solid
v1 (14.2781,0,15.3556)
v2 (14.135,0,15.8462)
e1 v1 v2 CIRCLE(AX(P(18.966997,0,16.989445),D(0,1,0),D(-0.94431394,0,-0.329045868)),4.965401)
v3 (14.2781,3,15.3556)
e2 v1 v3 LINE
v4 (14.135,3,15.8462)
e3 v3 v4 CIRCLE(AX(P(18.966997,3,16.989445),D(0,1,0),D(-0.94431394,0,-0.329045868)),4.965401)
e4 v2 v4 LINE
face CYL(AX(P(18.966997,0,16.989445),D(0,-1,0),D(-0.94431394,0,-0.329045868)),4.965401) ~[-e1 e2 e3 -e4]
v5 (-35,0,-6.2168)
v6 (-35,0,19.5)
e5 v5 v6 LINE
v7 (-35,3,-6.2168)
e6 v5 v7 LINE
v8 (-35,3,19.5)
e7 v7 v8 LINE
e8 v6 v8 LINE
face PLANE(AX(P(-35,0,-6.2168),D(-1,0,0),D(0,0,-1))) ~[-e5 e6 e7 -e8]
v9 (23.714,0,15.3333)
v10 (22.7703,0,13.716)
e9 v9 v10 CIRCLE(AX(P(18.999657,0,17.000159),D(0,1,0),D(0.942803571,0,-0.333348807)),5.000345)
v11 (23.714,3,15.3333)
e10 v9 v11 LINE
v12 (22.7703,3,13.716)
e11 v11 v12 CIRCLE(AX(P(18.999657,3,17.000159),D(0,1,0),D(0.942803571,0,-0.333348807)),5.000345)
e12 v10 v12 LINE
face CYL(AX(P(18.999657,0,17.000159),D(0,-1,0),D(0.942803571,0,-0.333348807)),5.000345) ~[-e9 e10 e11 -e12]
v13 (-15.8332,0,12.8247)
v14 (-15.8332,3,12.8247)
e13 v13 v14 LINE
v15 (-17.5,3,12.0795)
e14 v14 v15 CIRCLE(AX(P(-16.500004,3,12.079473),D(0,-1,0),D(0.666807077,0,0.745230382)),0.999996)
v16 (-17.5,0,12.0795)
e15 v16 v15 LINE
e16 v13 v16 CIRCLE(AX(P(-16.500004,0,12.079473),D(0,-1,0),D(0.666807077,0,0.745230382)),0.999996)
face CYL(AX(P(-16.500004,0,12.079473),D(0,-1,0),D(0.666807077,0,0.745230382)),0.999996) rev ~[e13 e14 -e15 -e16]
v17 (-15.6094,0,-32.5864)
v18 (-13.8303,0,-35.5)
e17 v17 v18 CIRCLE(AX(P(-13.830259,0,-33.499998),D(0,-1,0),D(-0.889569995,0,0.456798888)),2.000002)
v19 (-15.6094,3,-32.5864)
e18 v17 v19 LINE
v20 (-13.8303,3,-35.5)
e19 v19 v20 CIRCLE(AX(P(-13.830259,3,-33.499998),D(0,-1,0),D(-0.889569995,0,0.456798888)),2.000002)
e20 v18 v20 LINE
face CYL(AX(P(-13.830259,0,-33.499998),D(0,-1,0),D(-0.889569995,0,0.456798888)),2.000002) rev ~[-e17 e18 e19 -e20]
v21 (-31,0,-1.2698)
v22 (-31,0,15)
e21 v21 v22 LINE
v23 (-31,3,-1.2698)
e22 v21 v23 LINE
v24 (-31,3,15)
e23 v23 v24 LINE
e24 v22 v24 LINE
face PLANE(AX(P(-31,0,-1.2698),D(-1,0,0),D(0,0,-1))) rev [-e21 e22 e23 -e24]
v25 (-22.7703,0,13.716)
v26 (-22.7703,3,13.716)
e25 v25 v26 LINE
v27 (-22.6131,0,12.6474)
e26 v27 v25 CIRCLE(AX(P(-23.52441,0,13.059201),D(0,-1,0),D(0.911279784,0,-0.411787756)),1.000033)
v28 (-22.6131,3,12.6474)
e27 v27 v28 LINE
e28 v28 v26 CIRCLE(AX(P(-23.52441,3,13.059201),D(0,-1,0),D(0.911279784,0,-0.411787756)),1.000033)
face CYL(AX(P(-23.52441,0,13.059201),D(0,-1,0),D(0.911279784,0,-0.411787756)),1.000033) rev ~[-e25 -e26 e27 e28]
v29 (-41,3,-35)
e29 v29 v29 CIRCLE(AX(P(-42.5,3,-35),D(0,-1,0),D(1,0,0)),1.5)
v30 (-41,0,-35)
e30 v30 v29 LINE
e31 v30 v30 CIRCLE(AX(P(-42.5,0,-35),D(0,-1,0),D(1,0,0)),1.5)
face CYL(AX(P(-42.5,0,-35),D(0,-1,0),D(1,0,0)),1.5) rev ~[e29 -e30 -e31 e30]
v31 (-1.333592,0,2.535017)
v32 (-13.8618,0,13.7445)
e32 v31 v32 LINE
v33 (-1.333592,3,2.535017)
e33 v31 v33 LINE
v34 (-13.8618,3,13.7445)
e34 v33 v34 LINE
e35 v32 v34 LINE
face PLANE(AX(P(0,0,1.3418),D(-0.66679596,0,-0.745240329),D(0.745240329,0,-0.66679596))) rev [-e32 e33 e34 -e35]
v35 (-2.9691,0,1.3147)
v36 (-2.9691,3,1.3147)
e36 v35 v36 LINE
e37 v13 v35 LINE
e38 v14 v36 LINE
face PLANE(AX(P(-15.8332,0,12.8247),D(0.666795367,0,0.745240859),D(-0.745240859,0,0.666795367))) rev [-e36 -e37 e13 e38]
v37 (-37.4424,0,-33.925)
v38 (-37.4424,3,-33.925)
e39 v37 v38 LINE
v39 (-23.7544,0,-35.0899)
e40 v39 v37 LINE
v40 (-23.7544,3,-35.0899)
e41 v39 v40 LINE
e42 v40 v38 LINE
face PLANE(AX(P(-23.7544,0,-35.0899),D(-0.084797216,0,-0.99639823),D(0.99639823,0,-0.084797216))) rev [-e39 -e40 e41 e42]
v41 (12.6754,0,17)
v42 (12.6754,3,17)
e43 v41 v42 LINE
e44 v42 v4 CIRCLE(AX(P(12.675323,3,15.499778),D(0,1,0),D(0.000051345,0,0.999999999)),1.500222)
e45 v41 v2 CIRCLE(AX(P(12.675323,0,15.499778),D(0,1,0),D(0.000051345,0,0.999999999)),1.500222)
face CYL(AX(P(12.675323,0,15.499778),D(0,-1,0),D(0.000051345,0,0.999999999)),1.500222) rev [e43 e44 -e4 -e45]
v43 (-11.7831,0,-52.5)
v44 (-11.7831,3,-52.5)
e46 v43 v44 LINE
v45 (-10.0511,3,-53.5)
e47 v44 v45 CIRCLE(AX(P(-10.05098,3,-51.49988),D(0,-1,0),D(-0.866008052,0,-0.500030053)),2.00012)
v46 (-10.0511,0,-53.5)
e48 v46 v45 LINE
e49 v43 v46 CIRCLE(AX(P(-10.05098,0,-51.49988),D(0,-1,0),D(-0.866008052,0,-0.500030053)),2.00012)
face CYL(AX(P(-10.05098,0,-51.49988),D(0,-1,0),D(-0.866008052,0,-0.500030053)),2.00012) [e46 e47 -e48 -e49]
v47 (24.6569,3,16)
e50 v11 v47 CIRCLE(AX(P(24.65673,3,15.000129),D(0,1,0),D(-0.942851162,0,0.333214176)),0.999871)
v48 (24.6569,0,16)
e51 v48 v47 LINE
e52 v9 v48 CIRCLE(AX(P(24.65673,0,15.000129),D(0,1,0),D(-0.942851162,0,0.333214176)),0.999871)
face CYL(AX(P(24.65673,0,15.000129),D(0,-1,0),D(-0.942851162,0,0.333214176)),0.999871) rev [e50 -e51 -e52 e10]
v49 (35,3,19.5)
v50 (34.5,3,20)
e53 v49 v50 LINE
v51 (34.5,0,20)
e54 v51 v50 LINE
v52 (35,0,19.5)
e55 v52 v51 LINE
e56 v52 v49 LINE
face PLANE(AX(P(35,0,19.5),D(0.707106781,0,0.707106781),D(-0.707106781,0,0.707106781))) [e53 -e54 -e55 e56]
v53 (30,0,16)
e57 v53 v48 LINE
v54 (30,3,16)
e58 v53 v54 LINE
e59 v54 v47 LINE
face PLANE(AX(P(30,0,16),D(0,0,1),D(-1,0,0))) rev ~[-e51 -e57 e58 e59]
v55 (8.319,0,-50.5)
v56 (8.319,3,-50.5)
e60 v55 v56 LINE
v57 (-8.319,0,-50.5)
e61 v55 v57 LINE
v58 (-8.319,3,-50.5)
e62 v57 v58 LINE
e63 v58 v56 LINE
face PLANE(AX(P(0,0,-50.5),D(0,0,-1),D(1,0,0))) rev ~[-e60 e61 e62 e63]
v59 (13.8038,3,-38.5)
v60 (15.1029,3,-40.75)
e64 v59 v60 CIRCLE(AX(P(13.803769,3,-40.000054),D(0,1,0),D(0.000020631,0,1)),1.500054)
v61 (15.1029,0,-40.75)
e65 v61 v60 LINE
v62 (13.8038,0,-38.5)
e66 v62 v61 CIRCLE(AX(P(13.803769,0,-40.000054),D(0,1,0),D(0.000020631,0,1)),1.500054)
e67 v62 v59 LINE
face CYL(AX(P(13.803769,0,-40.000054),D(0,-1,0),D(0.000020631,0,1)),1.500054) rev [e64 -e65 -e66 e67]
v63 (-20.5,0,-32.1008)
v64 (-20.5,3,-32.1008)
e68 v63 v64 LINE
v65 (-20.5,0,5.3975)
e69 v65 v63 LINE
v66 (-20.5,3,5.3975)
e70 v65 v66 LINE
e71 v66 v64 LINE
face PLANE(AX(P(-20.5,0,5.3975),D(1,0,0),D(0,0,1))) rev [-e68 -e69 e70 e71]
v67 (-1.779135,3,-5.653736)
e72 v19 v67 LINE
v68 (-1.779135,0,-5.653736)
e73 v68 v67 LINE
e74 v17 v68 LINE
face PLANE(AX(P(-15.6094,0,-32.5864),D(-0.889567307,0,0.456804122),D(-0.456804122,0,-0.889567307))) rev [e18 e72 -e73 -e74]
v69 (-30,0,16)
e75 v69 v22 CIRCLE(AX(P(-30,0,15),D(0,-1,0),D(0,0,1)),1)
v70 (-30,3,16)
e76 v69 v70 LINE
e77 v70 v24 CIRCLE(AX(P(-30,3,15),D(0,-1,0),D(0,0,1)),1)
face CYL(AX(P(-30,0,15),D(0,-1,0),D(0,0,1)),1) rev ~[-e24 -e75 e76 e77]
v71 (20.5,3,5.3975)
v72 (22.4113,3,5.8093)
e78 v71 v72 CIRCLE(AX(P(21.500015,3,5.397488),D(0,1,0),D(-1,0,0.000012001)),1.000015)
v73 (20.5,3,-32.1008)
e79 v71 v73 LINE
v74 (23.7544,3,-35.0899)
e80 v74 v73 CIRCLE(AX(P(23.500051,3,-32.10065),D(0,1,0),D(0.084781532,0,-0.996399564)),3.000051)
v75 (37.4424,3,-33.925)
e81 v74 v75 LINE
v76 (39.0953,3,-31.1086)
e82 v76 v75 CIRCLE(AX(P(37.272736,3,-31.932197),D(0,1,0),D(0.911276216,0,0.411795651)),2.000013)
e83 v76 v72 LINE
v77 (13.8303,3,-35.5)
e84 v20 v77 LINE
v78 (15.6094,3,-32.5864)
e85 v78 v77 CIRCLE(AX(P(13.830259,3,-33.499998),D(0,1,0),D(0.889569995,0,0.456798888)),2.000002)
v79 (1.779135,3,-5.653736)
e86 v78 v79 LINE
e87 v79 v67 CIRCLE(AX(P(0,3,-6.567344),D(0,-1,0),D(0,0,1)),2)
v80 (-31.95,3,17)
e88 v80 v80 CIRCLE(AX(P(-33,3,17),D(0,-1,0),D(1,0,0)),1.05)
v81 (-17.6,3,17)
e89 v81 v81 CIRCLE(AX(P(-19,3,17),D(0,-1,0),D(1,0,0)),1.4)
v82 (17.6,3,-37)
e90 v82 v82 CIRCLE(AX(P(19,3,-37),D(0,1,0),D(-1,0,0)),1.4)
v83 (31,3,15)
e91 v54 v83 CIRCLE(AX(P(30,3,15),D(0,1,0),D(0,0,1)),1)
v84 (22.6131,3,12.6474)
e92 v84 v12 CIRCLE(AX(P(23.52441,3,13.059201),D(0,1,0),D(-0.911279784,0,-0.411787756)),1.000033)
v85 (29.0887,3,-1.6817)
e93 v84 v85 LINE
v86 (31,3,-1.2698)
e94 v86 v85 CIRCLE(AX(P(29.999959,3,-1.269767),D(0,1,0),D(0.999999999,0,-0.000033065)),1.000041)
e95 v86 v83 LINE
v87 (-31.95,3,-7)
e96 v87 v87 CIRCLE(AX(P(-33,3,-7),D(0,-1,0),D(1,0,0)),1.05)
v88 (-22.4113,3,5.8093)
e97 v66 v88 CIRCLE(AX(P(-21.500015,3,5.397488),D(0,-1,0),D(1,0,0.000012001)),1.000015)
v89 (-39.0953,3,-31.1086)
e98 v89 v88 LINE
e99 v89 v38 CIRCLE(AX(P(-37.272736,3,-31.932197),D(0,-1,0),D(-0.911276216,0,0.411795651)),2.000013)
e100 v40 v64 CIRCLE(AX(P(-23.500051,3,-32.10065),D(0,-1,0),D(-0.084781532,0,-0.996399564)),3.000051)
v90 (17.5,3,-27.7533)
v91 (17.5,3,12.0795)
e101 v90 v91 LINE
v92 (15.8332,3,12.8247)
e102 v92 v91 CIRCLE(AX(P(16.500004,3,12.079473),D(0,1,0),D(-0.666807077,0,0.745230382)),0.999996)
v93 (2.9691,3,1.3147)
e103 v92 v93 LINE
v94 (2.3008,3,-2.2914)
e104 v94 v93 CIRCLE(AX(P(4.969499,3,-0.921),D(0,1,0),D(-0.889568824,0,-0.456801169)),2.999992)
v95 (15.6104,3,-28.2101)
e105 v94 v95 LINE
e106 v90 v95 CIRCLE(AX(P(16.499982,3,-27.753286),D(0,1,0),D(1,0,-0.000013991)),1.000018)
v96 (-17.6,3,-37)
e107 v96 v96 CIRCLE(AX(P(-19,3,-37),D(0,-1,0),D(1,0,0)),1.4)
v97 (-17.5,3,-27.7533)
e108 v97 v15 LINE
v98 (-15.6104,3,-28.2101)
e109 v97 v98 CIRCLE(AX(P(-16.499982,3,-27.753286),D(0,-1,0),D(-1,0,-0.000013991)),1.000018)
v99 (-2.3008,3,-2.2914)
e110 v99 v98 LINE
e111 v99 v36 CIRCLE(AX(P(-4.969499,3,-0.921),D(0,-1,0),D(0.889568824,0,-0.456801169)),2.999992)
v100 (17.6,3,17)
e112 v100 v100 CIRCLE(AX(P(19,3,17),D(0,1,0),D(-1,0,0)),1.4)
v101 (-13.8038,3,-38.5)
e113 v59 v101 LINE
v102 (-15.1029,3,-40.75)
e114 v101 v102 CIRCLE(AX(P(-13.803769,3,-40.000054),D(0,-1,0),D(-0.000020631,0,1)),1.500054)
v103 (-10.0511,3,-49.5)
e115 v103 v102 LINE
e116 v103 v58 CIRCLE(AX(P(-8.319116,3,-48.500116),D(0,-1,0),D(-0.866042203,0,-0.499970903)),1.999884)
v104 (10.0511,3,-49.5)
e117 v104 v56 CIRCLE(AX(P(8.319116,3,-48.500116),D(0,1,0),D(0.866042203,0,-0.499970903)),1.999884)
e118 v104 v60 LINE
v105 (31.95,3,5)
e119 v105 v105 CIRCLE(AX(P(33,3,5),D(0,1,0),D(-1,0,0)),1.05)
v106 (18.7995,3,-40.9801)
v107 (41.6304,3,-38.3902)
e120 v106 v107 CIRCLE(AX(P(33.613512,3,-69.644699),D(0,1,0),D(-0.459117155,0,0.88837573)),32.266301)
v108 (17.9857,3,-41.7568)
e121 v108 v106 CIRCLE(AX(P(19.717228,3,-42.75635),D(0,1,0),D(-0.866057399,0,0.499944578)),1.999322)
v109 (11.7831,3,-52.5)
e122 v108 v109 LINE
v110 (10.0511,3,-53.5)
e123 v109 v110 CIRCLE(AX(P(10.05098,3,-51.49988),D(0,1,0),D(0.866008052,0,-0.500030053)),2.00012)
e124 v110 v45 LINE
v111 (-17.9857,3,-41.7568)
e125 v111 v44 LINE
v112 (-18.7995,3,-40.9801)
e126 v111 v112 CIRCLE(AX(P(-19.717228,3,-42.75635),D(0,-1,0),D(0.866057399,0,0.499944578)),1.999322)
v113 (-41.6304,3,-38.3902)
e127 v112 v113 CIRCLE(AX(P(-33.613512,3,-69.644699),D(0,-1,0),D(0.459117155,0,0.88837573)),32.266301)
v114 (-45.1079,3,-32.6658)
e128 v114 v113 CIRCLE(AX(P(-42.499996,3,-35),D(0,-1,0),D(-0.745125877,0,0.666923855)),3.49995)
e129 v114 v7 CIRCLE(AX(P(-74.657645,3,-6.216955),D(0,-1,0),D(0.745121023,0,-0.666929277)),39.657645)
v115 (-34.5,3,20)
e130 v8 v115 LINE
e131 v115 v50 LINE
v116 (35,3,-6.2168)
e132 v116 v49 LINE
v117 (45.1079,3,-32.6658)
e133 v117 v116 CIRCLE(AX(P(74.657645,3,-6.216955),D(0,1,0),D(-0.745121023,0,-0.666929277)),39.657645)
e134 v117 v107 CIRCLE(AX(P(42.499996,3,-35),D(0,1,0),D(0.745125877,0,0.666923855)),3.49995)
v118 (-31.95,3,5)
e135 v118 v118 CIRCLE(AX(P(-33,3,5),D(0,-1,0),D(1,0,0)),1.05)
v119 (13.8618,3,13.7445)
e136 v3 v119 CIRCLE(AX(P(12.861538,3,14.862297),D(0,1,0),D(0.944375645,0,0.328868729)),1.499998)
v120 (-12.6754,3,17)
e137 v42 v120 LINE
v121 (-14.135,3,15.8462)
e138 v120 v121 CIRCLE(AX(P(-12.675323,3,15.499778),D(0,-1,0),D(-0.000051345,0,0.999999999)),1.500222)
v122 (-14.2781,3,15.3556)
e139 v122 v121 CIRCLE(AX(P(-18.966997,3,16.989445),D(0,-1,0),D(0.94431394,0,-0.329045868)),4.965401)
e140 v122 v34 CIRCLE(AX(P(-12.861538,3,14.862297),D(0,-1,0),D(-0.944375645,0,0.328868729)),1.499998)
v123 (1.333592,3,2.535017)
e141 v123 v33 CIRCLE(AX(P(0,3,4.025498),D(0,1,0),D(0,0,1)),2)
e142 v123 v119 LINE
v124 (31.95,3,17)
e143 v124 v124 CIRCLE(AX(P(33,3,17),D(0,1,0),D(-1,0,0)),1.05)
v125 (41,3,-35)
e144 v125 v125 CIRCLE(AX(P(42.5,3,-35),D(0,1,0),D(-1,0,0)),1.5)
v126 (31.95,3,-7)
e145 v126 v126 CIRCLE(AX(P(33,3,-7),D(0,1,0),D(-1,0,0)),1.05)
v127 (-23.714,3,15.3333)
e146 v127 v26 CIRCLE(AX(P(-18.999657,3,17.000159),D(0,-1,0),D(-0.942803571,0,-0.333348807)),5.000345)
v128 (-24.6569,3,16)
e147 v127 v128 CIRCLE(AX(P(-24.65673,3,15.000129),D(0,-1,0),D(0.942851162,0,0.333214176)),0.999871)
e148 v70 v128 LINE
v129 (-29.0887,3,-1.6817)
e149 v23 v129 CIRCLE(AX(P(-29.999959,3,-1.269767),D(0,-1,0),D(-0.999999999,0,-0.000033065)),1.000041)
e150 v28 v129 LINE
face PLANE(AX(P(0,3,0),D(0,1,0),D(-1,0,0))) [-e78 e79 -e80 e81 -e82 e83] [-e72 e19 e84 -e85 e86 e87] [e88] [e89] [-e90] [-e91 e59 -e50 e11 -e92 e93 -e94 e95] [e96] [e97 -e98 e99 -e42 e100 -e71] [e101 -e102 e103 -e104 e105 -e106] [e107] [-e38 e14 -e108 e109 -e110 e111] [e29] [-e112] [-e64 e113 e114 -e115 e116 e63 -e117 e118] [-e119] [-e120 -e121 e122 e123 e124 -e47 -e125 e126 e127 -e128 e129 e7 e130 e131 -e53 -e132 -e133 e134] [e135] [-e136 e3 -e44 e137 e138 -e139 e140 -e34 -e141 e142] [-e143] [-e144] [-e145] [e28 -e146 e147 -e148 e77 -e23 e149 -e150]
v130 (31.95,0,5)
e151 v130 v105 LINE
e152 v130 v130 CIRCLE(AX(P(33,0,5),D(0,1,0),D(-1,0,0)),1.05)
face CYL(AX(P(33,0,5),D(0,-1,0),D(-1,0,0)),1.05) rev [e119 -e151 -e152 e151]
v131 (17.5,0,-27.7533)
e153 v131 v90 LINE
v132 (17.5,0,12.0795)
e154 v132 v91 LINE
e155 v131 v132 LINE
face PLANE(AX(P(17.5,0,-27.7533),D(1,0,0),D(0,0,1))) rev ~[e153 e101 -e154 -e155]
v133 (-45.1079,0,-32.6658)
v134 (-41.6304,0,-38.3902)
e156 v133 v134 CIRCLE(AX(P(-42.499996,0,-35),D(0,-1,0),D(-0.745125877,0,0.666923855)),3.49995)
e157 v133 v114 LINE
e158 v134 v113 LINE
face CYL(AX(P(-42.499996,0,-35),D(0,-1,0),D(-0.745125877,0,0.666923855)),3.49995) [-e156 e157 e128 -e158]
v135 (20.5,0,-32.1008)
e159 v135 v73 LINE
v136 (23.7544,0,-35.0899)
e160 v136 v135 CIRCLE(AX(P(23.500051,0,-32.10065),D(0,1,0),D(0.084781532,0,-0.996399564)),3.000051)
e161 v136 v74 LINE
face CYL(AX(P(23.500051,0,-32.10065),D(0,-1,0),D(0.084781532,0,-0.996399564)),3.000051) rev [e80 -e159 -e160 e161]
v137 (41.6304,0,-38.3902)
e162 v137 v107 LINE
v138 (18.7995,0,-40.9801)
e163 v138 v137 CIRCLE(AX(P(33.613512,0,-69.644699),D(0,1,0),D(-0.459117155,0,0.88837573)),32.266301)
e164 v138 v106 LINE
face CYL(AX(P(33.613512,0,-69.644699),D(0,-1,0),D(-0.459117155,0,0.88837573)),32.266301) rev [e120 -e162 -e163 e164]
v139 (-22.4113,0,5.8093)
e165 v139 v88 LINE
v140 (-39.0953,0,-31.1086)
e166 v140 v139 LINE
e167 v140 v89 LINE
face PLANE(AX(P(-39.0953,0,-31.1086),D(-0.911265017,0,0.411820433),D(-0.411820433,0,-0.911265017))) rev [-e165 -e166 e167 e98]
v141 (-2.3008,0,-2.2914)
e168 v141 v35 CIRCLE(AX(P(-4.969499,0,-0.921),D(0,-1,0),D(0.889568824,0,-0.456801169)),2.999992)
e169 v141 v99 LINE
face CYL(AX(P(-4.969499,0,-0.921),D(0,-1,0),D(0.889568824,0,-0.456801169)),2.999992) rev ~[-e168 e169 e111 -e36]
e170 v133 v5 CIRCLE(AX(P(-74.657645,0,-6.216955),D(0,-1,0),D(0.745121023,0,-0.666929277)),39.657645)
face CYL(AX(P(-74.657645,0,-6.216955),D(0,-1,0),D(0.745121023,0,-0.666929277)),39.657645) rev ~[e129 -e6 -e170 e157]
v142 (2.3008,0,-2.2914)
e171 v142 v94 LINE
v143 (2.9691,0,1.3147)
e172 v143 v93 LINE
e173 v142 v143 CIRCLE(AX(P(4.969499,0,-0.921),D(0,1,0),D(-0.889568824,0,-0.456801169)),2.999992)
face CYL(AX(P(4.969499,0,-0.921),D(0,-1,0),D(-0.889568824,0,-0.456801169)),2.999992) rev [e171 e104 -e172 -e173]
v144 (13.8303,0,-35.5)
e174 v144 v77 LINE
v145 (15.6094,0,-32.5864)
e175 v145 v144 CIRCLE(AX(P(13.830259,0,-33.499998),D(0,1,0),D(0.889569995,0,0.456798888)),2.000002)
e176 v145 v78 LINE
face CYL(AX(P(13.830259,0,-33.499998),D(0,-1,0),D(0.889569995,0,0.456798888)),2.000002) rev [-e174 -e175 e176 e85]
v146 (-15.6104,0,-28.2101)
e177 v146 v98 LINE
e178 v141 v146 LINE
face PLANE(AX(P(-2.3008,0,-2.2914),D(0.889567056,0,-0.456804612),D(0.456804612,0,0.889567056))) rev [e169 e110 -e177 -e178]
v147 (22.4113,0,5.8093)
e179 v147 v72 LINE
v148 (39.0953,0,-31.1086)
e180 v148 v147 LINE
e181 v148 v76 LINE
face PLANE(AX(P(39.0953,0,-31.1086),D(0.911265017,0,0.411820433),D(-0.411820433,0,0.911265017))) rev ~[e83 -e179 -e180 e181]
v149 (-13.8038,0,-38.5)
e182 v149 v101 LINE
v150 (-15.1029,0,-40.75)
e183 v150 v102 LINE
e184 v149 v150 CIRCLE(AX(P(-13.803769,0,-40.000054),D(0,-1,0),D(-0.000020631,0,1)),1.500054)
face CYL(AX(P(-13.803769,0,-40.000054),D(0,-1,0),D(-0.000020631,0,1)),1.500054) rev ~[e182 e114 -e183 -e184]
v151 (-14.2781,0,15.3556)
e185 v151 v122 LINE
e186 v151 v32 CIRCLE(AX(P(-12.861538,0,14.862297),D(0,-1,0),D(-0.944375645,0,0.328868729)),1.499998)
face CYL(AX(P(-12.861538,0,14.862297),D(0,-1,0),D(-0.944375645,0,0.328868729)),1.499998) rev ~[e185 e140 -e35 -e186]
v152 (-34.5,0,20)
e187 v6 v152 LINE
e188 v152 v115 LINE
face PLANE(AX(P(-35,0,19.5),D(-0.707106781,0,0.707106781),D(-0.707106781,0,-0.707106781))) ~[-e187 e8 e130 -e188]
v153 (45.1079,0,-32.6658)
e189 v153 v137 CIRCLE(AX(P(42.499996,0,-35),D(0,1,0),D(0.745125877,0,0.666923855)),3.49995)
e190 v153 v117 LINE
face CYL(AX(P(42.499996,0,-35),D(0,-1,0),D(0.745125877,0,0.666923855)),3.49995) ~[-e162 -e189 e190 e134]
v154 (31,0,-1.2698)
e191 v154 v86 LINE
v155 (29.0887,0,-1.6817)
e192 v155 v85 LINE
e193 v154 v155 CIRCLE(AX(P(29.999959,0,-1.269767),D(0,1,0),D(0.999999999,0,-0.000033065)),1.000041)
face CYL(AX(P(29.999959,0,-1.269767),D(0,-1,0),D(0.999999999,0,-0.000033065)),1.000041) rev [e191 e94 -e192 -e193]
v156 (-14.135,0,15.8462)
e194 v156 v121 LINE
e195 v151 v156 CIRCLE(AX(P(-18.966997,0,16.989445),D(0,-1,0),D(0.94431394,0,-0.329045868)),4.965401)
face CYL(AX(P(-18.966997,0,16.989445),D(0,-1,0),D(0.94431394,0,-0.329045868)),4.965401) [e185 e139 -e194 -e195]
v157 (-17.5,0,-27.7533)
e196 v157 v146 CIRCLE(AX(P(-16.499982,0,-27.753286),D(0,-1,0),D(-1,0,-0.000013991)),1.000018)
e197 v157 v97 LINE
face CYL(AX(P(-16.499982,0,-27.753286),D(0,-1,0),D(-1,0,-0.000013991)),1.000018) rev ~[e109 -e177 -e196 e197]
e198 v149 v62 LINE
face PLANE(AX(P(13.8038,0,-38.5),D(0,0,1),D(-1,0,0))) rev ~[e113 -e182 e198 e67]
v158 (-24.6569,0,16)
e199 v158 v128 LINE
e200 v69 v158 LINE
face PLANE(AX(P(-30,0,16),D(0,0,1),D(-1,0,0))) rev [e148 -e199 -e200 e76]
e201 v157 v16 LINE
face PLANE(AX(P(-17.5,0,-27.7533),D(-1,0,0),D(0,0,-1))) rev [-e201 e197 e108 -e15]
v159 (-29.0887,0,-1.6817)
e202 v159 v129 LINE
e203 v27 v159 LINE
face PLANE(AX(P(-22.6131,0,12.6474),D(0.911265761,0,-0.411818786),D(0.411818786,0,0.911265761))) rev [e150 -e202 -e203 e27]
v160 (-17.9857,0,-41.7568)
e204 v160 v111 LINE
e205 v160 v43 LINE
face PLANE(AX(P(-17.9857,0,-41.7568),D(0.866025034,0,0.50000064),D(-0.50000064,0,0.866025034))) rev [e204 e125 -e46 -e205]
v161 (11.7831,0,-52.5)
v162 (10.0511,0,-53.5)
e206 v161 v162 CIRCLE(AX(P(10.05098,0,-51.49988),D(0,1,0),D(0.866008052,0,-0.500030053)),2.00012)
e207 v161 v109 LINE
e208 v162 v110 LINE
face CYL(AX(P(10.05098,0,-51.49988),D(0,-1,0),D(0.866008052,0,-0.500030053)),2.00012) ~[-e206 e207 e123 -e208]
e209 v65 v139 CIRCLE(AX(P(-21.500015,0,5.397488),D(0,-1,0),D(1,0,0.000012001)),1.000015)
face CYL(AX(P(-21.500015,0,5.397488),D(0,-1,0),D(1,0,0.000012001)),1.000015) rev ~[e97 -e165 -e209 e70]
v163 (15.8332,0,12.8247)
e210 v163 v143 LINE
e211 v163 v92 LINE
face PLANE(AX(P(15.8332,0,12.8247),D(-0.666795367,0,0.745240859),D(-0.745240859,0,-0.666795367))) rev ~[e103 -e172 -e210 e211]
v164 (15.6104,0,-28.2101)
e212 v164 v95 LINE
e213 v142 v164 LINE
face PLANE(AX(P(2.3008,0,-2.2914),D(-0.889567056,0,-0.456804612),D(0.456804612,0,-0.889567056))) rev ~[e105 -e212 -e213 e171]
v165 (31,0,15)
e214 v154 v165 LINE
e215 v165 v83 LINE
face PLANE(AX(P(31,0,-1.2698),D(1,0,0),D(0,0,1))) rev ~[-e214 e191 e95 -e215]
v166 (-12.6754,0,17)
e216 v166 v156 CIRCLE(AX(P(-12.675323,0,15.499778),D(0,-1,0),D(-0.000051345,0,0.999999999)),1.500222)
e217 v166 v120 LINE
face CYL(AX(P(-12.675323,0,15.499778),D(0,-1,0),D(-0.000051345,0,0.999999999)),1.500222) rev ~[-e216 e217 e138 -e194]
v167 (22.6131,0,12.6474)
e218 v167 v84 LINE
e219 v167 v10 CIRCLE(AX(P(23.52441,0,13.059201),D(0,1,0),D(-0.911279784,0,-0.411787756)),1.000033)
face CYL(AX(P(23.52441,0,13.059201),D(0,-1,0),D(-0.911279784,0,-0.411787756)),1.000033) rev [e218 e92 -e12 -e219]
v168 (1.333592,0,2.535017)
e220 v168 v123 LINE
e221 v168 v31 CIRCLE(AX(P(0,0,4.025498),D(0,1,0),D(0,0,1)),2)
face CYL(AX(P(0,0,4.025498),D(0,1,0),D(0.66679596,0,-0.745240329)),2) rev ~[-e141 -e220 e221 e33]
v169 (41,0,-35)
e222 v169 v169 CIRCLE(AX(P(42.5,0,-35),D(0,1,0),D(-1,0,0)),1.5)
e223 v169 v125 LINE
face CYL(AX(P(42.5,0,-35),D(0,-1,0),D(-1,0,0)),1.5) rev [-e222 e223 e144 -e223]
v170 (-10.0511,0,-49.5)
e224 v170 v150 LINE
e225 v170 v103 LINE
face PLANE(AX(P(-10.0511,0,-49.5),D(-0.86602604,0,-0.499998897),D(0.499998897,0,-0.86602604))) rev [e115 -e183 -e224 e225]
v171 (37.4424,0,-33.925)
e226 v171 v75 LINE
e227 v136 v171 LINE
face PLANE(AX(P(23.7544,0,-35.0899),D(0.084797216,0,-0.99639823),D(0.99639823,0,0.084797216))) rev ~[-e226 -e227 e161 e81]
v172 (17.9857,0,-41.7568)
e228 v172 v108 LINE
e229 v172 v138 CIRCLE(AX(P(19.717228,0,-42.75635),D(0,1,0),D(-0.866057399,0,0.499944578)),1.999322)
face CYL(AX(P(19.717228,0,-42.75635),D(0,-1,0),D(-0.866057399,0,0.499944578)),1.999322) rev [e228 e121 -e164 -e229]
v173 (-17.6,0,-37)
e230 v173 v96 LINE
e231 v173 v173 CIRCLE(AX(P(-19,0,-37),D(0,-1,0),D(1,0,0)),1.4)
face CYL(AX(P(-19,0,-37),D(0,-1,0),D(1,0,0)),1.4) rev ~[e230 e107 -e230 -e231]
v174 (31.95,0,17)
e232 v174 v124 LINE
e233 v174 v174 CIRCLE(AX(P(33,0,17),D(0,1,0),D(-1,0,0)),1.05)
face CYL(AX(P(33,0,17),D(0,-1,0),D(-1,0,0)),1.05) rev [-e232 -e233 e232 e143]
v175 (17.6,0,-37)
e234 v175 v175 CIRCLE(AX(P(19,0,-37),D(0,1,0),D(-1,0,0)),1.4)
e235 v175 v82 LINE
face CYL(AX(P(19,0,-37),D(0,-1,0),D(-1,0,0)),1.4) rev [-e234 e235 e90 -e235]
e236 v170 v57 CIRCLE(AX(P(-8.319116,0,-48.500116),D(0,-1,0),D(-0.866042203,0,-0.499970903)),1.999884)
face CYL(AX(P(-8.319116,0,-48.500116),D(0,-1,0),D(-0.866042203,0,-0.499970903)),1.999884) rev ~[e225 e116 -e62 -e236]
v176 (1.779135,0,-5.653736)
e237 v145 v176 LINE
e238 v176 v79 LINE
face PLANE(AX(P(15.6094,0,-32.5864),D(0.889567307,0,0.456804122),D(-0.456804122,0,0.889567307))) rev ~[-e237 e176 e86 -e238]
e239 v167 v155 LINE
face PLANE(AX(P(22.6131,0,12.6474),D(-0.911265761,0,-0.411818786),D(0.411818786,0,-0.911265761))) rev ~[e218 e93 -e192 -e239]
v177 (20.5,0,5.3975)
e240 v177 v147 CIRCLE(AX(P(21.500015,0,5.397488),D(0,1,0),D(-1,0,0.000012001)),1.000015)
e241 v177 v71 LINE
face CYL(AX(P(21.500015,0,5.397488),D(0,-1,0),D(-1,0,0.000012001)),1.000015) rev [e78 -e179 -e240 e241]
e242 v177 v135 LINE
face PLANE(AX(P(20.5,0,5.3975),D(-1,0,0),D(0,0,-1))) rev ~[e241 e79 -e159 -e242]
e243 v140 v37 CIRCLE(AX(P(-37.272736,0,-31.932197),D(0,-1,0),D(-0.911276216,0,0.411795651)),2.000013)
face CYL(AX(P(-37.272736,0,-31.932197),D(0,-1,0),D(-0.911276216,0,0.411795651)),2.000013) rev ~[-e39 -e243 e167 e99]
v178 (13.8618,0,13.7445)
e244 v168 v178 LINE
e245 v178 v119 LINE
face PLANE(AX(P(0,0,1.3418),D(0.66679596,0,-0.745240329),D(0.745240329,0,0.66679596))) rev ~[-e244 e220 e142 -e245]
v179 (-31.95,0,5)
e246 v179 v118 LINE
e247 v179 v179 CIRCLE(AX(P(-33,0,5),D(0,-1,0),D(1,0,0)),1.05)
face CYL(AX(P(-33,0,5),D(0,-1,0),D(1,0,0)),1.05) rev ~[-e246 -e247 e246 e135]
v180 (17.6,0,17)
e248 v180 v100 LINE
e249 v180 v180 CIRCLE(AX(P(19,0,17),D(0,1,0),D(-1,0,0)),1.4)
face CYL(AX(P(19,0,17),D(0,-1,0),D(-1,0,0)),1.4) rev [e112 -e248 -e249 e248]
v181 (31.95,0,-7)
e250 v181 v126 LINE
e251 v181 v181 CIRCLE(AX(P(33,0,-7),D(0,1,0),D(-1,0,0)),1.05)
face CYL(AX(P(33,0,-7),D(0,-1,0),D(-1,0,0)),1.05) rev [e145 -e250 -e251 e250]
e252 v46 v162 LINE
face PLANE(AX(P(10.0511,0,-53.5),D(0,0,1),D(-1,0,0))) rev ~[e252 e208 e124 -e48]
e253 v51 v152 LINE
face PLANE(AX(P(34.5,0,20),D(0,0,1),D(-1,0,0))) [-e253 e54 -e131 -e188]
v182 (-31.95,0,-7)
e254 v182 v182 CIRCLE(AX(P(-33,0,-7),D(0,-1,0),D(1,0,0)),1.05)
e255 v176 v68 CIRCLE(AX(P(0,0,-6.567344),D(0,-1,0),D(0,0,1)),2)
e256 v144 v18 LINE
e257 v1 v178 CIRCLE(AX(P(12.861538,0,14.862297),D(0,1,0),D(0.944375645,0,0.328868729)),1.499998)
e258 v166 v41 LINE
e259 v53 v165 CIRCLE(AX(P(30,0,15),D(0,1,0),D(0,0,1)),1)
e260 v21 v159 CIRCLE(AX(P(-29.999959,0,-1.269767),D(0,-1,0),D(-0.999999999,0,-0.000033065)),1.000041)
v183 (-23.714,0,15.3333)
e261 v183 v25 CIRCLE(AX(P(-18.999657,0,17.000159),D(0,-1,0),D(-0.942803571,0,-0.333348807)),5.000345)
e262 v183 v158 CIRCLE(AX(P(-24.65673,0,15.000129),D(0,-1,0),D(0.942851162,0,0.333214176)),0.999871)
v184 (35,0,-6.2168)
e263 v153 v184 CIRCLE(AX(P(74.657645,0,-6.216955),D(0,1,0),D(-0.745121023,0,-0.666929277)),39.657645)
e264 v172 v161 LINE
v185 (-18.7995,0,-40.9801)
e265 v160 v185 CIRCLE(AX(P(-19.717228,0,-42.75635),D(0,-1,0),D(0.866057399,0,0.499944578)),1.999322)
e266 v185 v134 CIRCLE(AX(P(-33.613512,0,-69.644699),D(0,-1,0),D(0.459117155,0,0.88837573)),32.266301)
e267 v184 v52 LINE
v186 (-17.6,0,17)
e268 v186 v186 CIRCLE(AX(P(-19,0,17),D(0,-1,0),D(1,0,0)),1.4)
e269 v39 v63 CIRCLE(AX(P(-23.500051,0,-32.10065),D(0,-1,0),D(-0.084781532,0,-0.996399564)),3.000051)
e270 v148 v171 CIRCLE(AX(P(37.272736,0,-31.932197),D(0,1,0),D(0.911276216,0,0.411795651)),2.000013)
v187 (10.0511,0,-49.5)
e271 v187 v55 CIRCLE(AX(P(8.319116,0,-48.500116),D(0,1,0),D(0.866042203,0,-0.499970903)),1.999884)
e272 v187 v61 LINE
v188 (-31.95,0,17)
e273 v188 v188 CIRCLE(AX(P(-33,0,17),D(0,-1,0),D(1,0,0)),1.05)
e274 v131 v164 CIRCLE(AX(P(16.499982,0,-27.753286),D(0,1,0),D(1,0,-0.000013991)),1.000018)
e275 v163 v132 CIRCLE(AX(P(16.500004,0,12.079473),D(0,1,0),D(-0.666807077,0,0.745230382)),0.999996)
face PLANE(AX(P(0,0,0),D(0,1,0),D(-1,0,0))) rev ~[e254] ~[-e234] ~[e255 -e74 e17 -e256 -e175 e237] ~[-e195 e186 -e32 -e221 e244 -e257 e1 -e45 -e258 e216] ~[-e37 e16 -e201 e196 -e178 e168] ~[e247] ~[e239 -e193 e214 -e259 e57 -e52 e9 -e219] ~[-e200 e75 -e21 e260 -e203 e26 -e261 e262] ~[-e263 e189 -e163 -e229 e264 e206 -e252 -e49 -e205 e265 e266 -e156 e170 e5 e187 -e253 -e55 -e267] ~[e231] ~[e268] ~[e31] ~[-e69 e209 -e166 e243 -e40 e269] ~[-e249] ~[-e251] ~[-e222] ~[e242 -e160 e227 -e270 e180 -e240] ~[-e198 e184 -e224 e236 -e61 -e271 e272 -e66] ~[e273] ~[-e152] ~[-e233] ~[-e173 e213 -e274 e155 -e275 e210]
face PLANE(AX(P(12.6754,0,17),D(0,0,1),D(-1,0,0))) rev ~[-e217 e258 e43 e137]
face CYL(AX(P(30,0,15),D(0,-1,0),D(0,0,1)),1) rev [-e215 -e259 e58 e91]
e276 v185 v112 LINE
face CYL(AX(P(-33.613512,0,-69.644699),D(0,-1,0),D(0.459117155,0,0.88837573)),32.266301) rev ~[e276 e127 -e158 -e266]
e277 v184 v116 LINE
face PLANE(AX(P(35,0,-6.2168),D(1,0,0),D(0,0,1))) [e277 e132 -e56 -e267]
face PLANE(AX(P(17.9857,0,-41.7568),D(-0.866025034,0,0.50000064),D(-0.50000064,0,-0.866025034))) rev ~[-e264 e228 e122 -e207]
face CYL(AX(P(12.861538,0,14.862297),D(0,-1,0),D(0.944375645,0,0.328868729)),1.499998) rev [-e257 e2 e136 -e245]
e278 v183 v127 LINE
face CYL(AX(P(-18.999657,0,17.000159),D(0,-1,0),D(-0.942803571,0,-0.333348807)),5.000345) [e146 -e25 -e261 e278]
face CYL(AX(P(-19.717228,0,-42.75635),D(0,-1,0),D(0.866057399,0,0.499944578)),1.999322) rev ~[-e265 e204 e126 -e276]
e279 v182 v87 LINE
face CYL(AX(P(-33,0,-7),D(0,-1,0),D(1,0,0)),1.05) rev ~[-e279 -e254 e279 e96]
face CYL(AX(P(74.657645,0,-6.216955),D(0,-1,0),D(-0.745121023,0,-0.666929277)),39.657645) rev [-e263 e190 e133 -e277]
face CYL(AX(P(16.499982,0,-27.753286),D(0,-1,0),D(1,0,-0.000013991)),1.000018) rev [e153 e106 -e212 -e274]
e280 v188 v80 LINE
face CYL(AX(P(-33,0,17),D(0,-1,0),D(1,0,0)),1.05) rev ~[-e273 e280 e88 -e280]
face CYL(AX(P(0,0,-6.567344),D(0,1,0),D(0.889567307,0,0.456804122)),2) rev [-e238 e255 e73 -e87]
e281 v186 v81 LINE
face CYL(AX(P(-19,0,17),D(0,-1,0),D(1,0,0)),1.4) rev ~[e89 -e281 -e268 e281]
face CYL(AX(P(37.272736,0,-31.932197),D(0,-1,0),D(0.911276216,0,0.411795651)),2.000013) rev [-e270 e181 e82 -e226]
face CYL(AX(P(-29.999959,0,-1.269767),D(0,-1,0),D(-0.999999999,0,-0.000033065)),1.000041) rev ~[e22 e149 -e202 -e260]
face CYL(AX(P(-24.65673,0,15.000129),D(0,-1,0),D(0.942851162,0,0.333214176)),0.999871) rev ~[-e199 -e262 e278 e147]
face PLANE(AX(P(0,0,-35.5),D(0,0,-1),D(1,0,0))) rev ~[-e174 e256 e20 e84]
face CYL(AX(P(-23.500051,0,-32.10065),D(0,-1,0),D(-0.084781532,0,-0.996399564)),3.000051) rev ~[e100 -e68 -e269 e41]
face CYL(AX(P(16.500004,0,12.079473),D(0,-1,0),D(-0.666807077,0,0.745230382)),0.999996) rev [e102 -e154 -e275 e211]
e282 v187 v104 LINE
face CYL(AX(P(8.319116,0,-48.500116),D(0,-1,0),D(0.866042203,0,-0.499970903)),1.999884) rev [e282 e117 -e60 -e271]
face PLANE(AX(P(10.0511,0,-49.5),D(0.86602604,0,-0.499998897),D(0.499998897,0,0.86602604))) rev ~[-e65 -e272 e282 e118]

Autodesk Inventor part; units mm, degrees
ref_plane "YZ Plane" through (0, 0, 0) normal (1, 0, 0) x (0, 1, 0)
ref_plane "XZ Plane" through (0, 0, 0) normal (0, 1, 0) x (-1, 0, 0)
ref_plane "XY Plane" through (0, 0, 0) normal (0, 0, 1) x (1, 0, 0)
sketch "スケッチ1" plane through (0, 0, 0) normal (0, 1, 0) x (-1, 0, 0)
  circle A0 centre (-42.5, -35) radius 1.5
  line L0 (0, 0) -> (0, 1.3418)
  circle A1 centre (-19, -37) radius 1.4
  circle A2 centre (-19, 17) radius 1.4
  line L1 (-19, -37) -> (-19, 17) construction
  line L2 (0, -38.5) -> (0, -35.5)
  line L3 (-19, -37) -> (0, -37) construction
  line L4 (-19, -37) -> (-42.5, -35) construction
  line L5 (-42.5, -35) -> (-19, 17) construction
  line L6 (-19, 17) -> (0, 17) construction
  arc A3 (-18.7995, -40.9801) -> (-41.6304, -38.3902) centre (-33.6133, -69.644) ccw
  arc A4 (-45.1079, -32.6658) -> (-41.6304, -38.3902) centre (-42.5, -35) ccw
  line L7 (-23.7544, -35.0899) -> (-37.4424, -33.925)
  line L8 (-39.0953, -31.1086) -> (-22.4113, 5.8093)
  arc A5 (-39.0953, -31.1086) -> (-37.4424, -33.925) centre (-37.2728, -31.9322) ccw
  line L9 (-20.5, 5.3975) -> (-20.5, -32.1008)
  arc A6 (-23.7544, -35.0899) -> (-20.5, -32.1008) centre (-23.5, -32.1008) ccw
  arc A7 (-20.5, 5.3975) -> (-22.4113, 5.8093) centre (-21.5, 5.3975) ccw
  line L10 (-19, 17) -> (0, 0) construction
  line L11 (-19, -37) -> (0, 0) construction
  line L12 (-15.8332, 12.8247) -> (-2.9691, 1.3147)
  line L13 (-2.3008, -2.2914) -> (-15.6104, -28.2101)
  line L14 (-17.5, -27.7533) -> (-17.5, 12.0795)
  arc A8 (-15.8332, 12.8247) -> (-17.5, 12.0795) centre (-16.5, 12.0795) ccw
  arc A9 (-17.5, -27.7533) -> (-15.6104, -28.2101) centre (-16.5, -27.7533) ccw
  arc A10 (-2.3008, -2.2914) -> (-2.9691, 1.3147) centre (-4.9695, -0.921) ccw
  circle A11 centre (-19, 17) radius 3.5 construction
  line L15 (-42.8121, -36.4789) -> (-26.0599, -37.9046) construction
  line L16 (-33, 17) -> (-33, -7) construction
  circle A12 centre (-33, 17) radius 1.05
  circle A13 centre (-33, -7) radius 1.05
  circle A14 centre (-33, 5) radius 1.05
  line L17 (-34.5, 20) -> (0, 20)
  line L18 (0, 0) -> (24.0054, 0) construction
  line L19 (-35, -6.2168) -> (-35, 19.5)
  arc A15 (-45.1079, -32.6658) -> (-35, -6.2168) centre (-74.6579, -6.2168) ccw
  line L20 (-37.3423, -19.9448) -> (-34.4071, -13.45) construction
  line L21 (-33, 3.7852) -> (-33, 6.2148) construction
  line L22 (-22.6131, 12.6474) -> (-29.0887, -1.6817)
  line L23 (-31, -1.2698) -> (-31, 15)
  line L24 (-30, 16) -> (-24.6569, 16)
  arc A16 (-23.714, 15.3333) -> (-22.7703, 13.716) centre (-19, 17) ccw
  arc A17 (-31, -1.2698) -> (-29.0887, -1.6817) centre (-30, -1.2698) ccw
  arc A18 (-30, 16) -> (-31, 15) centre (-30, 15) ccw
  arc A19 (-23.714, 15.3333) -> (-24.6569, 16) centre (-24.6569, 15) ccw
  arc A20 (-22.6131, 12.6474) -> (-22.7703, 13.716) centre (-23.5244, 13.0592) ccw
  line L25 (-35, 19.5) -> (-34.5, 20)
  line L26 (-19, -37) -> (-10.3397, -52) construction
  line L27 (-10.3397, -52) -> (0, -52) construction
  arc A21 (-17.9857, -41.7568) -> (-18.7995, -40.9801) centre (-19.7178, -42.7568) ccw
  line L28 (-17.9857, -41.7568) -> (-11.7831, -52.5)
  line L29 (-10.0511, -53.5) -> (0, -53.5)
  line L30 (0, -53.5) -> (0, -50.5)
  line L31 (0, -50.5) -> (-8.319, -50.5)
  line L32 (-10.0511, -49.5) -> (-15.1029, -40.75)
  line L33 (-13.8038, -38.5) -> (0, -38.5)
  arc A22 (-13.8038, -38.5) -> (-15.1029, -40.75) centre (-13.8038, -40) ccw
  circle A23 centre (-19, -37) radius 3.5 construction
  arc A24 (-11.7831, -52.5) -> (-10.0511, -53.5) centre (-10.0511, -51.5) ccw
  arc A25 (-10.0511, -49.5) -> (-8.319, -50.5) centre (-8.319, -48.5) ccw
  line L34 (0, -35.5) -> (-13.8303, -35.5)
  line L35 (-15.6094, -32.5864) -> (0, -2.1891)
  arc A26 (-15.6094, -32.5864) -> (-13.8303, -35.5) centre (-13.8303, -33.5) ccw
  line L36 (0, -35.5) -> (0, -2.1891) construction
  line L37 (0, -2.1891) -> (0, 0)
  line L38 (0, 1.3418) -> (-13.8618, 13.7445)
  line L39 (-12.6754, 17) -> (0, 17)
  arc A27 (-14.2781, 15.3556) -> (-14.135, 15.8462) centre (-19, 17) ccw
  arc A28 (-14.2781, 15.3556) -> (-13.8618, 13.7445) centre (-12.8616, 14.8623) ccw
  arc A29 (-12.6754, 17) -> (-14.135, 15.8462) centre (-12.6754, 15.5) ccw
  line L40 (0, 1.3418) -> (0, 17) construction
  line L41 (0, 17) -> (0, 20)
  point P0 (-19, -10)
  point P1 (-1.2424, -0.2302)
  point P2 (-22.3312, 13.2713)
  point P3 (-23.899, 16)
  point P4 (-35, 20)
  point P5 (-14.6823, 14.4786)
  point P6 (-14, 17)
  dimension "d2" = 38
  dimension "d3" = 54
  dimension "d4" = 2.8
  dimension "d17" = 1.5
  dimension "d18" = 3
  dimension "d19" = 1
  dimension "d21" = 3
  dimension "d22" = 1
  dimension "d23" = 3
  dimension "d34" = 2.1
  dimension "d47" = 3
  dimension "d49" = 85
  dimension "d51" = 35
  dimension "d55" = 24
  dimension "d60" = 2
  dimension "d61" = 3
  dimension "d63" = 2
  dimension "d64" = 4
  dimension "d65" = 1.5
  dimension "d66" = 5
  dimension "d67" = 1
  dimension "d68" = 0.5
  dimension "d69" = 0.5
  dimension "d70" = 70
  dimension "d71" = 2
  dimension "d72" = 1.5
  dimension "d73" = 3.5
  dimension "d74" = 1.5
  dimension "d75" = 2
  dimension "d76" = 7
  dimension "d77" = 60
  dimension "d78" = 3
  dimension "d79" = 3
  dimension "d80" = 15
  dimension "d82" = 2
  dimension "d83" = 2
  dimension "d84" = 3
  dimension "d85" = 2
  dimension "d86" = 1
  dimension "d87" = 1.5
  dimension "d88" = 3
  dimension "d90" = 2
  dimension "d91" = 5
  dimension "d93" = 2
extrude "押し出し1" add sketch "スケッチ1" along normal blind 3
mirror "ミラー1" about plane through (0, 0, 0) normal (1, 0, 0) of "押し出し1"
fillet "フィレット1" radius 2 2 edges at (0, 1.5, -2.1891) (0, 1.5, 1.3418)
properties part number "body_top_base_v1"
